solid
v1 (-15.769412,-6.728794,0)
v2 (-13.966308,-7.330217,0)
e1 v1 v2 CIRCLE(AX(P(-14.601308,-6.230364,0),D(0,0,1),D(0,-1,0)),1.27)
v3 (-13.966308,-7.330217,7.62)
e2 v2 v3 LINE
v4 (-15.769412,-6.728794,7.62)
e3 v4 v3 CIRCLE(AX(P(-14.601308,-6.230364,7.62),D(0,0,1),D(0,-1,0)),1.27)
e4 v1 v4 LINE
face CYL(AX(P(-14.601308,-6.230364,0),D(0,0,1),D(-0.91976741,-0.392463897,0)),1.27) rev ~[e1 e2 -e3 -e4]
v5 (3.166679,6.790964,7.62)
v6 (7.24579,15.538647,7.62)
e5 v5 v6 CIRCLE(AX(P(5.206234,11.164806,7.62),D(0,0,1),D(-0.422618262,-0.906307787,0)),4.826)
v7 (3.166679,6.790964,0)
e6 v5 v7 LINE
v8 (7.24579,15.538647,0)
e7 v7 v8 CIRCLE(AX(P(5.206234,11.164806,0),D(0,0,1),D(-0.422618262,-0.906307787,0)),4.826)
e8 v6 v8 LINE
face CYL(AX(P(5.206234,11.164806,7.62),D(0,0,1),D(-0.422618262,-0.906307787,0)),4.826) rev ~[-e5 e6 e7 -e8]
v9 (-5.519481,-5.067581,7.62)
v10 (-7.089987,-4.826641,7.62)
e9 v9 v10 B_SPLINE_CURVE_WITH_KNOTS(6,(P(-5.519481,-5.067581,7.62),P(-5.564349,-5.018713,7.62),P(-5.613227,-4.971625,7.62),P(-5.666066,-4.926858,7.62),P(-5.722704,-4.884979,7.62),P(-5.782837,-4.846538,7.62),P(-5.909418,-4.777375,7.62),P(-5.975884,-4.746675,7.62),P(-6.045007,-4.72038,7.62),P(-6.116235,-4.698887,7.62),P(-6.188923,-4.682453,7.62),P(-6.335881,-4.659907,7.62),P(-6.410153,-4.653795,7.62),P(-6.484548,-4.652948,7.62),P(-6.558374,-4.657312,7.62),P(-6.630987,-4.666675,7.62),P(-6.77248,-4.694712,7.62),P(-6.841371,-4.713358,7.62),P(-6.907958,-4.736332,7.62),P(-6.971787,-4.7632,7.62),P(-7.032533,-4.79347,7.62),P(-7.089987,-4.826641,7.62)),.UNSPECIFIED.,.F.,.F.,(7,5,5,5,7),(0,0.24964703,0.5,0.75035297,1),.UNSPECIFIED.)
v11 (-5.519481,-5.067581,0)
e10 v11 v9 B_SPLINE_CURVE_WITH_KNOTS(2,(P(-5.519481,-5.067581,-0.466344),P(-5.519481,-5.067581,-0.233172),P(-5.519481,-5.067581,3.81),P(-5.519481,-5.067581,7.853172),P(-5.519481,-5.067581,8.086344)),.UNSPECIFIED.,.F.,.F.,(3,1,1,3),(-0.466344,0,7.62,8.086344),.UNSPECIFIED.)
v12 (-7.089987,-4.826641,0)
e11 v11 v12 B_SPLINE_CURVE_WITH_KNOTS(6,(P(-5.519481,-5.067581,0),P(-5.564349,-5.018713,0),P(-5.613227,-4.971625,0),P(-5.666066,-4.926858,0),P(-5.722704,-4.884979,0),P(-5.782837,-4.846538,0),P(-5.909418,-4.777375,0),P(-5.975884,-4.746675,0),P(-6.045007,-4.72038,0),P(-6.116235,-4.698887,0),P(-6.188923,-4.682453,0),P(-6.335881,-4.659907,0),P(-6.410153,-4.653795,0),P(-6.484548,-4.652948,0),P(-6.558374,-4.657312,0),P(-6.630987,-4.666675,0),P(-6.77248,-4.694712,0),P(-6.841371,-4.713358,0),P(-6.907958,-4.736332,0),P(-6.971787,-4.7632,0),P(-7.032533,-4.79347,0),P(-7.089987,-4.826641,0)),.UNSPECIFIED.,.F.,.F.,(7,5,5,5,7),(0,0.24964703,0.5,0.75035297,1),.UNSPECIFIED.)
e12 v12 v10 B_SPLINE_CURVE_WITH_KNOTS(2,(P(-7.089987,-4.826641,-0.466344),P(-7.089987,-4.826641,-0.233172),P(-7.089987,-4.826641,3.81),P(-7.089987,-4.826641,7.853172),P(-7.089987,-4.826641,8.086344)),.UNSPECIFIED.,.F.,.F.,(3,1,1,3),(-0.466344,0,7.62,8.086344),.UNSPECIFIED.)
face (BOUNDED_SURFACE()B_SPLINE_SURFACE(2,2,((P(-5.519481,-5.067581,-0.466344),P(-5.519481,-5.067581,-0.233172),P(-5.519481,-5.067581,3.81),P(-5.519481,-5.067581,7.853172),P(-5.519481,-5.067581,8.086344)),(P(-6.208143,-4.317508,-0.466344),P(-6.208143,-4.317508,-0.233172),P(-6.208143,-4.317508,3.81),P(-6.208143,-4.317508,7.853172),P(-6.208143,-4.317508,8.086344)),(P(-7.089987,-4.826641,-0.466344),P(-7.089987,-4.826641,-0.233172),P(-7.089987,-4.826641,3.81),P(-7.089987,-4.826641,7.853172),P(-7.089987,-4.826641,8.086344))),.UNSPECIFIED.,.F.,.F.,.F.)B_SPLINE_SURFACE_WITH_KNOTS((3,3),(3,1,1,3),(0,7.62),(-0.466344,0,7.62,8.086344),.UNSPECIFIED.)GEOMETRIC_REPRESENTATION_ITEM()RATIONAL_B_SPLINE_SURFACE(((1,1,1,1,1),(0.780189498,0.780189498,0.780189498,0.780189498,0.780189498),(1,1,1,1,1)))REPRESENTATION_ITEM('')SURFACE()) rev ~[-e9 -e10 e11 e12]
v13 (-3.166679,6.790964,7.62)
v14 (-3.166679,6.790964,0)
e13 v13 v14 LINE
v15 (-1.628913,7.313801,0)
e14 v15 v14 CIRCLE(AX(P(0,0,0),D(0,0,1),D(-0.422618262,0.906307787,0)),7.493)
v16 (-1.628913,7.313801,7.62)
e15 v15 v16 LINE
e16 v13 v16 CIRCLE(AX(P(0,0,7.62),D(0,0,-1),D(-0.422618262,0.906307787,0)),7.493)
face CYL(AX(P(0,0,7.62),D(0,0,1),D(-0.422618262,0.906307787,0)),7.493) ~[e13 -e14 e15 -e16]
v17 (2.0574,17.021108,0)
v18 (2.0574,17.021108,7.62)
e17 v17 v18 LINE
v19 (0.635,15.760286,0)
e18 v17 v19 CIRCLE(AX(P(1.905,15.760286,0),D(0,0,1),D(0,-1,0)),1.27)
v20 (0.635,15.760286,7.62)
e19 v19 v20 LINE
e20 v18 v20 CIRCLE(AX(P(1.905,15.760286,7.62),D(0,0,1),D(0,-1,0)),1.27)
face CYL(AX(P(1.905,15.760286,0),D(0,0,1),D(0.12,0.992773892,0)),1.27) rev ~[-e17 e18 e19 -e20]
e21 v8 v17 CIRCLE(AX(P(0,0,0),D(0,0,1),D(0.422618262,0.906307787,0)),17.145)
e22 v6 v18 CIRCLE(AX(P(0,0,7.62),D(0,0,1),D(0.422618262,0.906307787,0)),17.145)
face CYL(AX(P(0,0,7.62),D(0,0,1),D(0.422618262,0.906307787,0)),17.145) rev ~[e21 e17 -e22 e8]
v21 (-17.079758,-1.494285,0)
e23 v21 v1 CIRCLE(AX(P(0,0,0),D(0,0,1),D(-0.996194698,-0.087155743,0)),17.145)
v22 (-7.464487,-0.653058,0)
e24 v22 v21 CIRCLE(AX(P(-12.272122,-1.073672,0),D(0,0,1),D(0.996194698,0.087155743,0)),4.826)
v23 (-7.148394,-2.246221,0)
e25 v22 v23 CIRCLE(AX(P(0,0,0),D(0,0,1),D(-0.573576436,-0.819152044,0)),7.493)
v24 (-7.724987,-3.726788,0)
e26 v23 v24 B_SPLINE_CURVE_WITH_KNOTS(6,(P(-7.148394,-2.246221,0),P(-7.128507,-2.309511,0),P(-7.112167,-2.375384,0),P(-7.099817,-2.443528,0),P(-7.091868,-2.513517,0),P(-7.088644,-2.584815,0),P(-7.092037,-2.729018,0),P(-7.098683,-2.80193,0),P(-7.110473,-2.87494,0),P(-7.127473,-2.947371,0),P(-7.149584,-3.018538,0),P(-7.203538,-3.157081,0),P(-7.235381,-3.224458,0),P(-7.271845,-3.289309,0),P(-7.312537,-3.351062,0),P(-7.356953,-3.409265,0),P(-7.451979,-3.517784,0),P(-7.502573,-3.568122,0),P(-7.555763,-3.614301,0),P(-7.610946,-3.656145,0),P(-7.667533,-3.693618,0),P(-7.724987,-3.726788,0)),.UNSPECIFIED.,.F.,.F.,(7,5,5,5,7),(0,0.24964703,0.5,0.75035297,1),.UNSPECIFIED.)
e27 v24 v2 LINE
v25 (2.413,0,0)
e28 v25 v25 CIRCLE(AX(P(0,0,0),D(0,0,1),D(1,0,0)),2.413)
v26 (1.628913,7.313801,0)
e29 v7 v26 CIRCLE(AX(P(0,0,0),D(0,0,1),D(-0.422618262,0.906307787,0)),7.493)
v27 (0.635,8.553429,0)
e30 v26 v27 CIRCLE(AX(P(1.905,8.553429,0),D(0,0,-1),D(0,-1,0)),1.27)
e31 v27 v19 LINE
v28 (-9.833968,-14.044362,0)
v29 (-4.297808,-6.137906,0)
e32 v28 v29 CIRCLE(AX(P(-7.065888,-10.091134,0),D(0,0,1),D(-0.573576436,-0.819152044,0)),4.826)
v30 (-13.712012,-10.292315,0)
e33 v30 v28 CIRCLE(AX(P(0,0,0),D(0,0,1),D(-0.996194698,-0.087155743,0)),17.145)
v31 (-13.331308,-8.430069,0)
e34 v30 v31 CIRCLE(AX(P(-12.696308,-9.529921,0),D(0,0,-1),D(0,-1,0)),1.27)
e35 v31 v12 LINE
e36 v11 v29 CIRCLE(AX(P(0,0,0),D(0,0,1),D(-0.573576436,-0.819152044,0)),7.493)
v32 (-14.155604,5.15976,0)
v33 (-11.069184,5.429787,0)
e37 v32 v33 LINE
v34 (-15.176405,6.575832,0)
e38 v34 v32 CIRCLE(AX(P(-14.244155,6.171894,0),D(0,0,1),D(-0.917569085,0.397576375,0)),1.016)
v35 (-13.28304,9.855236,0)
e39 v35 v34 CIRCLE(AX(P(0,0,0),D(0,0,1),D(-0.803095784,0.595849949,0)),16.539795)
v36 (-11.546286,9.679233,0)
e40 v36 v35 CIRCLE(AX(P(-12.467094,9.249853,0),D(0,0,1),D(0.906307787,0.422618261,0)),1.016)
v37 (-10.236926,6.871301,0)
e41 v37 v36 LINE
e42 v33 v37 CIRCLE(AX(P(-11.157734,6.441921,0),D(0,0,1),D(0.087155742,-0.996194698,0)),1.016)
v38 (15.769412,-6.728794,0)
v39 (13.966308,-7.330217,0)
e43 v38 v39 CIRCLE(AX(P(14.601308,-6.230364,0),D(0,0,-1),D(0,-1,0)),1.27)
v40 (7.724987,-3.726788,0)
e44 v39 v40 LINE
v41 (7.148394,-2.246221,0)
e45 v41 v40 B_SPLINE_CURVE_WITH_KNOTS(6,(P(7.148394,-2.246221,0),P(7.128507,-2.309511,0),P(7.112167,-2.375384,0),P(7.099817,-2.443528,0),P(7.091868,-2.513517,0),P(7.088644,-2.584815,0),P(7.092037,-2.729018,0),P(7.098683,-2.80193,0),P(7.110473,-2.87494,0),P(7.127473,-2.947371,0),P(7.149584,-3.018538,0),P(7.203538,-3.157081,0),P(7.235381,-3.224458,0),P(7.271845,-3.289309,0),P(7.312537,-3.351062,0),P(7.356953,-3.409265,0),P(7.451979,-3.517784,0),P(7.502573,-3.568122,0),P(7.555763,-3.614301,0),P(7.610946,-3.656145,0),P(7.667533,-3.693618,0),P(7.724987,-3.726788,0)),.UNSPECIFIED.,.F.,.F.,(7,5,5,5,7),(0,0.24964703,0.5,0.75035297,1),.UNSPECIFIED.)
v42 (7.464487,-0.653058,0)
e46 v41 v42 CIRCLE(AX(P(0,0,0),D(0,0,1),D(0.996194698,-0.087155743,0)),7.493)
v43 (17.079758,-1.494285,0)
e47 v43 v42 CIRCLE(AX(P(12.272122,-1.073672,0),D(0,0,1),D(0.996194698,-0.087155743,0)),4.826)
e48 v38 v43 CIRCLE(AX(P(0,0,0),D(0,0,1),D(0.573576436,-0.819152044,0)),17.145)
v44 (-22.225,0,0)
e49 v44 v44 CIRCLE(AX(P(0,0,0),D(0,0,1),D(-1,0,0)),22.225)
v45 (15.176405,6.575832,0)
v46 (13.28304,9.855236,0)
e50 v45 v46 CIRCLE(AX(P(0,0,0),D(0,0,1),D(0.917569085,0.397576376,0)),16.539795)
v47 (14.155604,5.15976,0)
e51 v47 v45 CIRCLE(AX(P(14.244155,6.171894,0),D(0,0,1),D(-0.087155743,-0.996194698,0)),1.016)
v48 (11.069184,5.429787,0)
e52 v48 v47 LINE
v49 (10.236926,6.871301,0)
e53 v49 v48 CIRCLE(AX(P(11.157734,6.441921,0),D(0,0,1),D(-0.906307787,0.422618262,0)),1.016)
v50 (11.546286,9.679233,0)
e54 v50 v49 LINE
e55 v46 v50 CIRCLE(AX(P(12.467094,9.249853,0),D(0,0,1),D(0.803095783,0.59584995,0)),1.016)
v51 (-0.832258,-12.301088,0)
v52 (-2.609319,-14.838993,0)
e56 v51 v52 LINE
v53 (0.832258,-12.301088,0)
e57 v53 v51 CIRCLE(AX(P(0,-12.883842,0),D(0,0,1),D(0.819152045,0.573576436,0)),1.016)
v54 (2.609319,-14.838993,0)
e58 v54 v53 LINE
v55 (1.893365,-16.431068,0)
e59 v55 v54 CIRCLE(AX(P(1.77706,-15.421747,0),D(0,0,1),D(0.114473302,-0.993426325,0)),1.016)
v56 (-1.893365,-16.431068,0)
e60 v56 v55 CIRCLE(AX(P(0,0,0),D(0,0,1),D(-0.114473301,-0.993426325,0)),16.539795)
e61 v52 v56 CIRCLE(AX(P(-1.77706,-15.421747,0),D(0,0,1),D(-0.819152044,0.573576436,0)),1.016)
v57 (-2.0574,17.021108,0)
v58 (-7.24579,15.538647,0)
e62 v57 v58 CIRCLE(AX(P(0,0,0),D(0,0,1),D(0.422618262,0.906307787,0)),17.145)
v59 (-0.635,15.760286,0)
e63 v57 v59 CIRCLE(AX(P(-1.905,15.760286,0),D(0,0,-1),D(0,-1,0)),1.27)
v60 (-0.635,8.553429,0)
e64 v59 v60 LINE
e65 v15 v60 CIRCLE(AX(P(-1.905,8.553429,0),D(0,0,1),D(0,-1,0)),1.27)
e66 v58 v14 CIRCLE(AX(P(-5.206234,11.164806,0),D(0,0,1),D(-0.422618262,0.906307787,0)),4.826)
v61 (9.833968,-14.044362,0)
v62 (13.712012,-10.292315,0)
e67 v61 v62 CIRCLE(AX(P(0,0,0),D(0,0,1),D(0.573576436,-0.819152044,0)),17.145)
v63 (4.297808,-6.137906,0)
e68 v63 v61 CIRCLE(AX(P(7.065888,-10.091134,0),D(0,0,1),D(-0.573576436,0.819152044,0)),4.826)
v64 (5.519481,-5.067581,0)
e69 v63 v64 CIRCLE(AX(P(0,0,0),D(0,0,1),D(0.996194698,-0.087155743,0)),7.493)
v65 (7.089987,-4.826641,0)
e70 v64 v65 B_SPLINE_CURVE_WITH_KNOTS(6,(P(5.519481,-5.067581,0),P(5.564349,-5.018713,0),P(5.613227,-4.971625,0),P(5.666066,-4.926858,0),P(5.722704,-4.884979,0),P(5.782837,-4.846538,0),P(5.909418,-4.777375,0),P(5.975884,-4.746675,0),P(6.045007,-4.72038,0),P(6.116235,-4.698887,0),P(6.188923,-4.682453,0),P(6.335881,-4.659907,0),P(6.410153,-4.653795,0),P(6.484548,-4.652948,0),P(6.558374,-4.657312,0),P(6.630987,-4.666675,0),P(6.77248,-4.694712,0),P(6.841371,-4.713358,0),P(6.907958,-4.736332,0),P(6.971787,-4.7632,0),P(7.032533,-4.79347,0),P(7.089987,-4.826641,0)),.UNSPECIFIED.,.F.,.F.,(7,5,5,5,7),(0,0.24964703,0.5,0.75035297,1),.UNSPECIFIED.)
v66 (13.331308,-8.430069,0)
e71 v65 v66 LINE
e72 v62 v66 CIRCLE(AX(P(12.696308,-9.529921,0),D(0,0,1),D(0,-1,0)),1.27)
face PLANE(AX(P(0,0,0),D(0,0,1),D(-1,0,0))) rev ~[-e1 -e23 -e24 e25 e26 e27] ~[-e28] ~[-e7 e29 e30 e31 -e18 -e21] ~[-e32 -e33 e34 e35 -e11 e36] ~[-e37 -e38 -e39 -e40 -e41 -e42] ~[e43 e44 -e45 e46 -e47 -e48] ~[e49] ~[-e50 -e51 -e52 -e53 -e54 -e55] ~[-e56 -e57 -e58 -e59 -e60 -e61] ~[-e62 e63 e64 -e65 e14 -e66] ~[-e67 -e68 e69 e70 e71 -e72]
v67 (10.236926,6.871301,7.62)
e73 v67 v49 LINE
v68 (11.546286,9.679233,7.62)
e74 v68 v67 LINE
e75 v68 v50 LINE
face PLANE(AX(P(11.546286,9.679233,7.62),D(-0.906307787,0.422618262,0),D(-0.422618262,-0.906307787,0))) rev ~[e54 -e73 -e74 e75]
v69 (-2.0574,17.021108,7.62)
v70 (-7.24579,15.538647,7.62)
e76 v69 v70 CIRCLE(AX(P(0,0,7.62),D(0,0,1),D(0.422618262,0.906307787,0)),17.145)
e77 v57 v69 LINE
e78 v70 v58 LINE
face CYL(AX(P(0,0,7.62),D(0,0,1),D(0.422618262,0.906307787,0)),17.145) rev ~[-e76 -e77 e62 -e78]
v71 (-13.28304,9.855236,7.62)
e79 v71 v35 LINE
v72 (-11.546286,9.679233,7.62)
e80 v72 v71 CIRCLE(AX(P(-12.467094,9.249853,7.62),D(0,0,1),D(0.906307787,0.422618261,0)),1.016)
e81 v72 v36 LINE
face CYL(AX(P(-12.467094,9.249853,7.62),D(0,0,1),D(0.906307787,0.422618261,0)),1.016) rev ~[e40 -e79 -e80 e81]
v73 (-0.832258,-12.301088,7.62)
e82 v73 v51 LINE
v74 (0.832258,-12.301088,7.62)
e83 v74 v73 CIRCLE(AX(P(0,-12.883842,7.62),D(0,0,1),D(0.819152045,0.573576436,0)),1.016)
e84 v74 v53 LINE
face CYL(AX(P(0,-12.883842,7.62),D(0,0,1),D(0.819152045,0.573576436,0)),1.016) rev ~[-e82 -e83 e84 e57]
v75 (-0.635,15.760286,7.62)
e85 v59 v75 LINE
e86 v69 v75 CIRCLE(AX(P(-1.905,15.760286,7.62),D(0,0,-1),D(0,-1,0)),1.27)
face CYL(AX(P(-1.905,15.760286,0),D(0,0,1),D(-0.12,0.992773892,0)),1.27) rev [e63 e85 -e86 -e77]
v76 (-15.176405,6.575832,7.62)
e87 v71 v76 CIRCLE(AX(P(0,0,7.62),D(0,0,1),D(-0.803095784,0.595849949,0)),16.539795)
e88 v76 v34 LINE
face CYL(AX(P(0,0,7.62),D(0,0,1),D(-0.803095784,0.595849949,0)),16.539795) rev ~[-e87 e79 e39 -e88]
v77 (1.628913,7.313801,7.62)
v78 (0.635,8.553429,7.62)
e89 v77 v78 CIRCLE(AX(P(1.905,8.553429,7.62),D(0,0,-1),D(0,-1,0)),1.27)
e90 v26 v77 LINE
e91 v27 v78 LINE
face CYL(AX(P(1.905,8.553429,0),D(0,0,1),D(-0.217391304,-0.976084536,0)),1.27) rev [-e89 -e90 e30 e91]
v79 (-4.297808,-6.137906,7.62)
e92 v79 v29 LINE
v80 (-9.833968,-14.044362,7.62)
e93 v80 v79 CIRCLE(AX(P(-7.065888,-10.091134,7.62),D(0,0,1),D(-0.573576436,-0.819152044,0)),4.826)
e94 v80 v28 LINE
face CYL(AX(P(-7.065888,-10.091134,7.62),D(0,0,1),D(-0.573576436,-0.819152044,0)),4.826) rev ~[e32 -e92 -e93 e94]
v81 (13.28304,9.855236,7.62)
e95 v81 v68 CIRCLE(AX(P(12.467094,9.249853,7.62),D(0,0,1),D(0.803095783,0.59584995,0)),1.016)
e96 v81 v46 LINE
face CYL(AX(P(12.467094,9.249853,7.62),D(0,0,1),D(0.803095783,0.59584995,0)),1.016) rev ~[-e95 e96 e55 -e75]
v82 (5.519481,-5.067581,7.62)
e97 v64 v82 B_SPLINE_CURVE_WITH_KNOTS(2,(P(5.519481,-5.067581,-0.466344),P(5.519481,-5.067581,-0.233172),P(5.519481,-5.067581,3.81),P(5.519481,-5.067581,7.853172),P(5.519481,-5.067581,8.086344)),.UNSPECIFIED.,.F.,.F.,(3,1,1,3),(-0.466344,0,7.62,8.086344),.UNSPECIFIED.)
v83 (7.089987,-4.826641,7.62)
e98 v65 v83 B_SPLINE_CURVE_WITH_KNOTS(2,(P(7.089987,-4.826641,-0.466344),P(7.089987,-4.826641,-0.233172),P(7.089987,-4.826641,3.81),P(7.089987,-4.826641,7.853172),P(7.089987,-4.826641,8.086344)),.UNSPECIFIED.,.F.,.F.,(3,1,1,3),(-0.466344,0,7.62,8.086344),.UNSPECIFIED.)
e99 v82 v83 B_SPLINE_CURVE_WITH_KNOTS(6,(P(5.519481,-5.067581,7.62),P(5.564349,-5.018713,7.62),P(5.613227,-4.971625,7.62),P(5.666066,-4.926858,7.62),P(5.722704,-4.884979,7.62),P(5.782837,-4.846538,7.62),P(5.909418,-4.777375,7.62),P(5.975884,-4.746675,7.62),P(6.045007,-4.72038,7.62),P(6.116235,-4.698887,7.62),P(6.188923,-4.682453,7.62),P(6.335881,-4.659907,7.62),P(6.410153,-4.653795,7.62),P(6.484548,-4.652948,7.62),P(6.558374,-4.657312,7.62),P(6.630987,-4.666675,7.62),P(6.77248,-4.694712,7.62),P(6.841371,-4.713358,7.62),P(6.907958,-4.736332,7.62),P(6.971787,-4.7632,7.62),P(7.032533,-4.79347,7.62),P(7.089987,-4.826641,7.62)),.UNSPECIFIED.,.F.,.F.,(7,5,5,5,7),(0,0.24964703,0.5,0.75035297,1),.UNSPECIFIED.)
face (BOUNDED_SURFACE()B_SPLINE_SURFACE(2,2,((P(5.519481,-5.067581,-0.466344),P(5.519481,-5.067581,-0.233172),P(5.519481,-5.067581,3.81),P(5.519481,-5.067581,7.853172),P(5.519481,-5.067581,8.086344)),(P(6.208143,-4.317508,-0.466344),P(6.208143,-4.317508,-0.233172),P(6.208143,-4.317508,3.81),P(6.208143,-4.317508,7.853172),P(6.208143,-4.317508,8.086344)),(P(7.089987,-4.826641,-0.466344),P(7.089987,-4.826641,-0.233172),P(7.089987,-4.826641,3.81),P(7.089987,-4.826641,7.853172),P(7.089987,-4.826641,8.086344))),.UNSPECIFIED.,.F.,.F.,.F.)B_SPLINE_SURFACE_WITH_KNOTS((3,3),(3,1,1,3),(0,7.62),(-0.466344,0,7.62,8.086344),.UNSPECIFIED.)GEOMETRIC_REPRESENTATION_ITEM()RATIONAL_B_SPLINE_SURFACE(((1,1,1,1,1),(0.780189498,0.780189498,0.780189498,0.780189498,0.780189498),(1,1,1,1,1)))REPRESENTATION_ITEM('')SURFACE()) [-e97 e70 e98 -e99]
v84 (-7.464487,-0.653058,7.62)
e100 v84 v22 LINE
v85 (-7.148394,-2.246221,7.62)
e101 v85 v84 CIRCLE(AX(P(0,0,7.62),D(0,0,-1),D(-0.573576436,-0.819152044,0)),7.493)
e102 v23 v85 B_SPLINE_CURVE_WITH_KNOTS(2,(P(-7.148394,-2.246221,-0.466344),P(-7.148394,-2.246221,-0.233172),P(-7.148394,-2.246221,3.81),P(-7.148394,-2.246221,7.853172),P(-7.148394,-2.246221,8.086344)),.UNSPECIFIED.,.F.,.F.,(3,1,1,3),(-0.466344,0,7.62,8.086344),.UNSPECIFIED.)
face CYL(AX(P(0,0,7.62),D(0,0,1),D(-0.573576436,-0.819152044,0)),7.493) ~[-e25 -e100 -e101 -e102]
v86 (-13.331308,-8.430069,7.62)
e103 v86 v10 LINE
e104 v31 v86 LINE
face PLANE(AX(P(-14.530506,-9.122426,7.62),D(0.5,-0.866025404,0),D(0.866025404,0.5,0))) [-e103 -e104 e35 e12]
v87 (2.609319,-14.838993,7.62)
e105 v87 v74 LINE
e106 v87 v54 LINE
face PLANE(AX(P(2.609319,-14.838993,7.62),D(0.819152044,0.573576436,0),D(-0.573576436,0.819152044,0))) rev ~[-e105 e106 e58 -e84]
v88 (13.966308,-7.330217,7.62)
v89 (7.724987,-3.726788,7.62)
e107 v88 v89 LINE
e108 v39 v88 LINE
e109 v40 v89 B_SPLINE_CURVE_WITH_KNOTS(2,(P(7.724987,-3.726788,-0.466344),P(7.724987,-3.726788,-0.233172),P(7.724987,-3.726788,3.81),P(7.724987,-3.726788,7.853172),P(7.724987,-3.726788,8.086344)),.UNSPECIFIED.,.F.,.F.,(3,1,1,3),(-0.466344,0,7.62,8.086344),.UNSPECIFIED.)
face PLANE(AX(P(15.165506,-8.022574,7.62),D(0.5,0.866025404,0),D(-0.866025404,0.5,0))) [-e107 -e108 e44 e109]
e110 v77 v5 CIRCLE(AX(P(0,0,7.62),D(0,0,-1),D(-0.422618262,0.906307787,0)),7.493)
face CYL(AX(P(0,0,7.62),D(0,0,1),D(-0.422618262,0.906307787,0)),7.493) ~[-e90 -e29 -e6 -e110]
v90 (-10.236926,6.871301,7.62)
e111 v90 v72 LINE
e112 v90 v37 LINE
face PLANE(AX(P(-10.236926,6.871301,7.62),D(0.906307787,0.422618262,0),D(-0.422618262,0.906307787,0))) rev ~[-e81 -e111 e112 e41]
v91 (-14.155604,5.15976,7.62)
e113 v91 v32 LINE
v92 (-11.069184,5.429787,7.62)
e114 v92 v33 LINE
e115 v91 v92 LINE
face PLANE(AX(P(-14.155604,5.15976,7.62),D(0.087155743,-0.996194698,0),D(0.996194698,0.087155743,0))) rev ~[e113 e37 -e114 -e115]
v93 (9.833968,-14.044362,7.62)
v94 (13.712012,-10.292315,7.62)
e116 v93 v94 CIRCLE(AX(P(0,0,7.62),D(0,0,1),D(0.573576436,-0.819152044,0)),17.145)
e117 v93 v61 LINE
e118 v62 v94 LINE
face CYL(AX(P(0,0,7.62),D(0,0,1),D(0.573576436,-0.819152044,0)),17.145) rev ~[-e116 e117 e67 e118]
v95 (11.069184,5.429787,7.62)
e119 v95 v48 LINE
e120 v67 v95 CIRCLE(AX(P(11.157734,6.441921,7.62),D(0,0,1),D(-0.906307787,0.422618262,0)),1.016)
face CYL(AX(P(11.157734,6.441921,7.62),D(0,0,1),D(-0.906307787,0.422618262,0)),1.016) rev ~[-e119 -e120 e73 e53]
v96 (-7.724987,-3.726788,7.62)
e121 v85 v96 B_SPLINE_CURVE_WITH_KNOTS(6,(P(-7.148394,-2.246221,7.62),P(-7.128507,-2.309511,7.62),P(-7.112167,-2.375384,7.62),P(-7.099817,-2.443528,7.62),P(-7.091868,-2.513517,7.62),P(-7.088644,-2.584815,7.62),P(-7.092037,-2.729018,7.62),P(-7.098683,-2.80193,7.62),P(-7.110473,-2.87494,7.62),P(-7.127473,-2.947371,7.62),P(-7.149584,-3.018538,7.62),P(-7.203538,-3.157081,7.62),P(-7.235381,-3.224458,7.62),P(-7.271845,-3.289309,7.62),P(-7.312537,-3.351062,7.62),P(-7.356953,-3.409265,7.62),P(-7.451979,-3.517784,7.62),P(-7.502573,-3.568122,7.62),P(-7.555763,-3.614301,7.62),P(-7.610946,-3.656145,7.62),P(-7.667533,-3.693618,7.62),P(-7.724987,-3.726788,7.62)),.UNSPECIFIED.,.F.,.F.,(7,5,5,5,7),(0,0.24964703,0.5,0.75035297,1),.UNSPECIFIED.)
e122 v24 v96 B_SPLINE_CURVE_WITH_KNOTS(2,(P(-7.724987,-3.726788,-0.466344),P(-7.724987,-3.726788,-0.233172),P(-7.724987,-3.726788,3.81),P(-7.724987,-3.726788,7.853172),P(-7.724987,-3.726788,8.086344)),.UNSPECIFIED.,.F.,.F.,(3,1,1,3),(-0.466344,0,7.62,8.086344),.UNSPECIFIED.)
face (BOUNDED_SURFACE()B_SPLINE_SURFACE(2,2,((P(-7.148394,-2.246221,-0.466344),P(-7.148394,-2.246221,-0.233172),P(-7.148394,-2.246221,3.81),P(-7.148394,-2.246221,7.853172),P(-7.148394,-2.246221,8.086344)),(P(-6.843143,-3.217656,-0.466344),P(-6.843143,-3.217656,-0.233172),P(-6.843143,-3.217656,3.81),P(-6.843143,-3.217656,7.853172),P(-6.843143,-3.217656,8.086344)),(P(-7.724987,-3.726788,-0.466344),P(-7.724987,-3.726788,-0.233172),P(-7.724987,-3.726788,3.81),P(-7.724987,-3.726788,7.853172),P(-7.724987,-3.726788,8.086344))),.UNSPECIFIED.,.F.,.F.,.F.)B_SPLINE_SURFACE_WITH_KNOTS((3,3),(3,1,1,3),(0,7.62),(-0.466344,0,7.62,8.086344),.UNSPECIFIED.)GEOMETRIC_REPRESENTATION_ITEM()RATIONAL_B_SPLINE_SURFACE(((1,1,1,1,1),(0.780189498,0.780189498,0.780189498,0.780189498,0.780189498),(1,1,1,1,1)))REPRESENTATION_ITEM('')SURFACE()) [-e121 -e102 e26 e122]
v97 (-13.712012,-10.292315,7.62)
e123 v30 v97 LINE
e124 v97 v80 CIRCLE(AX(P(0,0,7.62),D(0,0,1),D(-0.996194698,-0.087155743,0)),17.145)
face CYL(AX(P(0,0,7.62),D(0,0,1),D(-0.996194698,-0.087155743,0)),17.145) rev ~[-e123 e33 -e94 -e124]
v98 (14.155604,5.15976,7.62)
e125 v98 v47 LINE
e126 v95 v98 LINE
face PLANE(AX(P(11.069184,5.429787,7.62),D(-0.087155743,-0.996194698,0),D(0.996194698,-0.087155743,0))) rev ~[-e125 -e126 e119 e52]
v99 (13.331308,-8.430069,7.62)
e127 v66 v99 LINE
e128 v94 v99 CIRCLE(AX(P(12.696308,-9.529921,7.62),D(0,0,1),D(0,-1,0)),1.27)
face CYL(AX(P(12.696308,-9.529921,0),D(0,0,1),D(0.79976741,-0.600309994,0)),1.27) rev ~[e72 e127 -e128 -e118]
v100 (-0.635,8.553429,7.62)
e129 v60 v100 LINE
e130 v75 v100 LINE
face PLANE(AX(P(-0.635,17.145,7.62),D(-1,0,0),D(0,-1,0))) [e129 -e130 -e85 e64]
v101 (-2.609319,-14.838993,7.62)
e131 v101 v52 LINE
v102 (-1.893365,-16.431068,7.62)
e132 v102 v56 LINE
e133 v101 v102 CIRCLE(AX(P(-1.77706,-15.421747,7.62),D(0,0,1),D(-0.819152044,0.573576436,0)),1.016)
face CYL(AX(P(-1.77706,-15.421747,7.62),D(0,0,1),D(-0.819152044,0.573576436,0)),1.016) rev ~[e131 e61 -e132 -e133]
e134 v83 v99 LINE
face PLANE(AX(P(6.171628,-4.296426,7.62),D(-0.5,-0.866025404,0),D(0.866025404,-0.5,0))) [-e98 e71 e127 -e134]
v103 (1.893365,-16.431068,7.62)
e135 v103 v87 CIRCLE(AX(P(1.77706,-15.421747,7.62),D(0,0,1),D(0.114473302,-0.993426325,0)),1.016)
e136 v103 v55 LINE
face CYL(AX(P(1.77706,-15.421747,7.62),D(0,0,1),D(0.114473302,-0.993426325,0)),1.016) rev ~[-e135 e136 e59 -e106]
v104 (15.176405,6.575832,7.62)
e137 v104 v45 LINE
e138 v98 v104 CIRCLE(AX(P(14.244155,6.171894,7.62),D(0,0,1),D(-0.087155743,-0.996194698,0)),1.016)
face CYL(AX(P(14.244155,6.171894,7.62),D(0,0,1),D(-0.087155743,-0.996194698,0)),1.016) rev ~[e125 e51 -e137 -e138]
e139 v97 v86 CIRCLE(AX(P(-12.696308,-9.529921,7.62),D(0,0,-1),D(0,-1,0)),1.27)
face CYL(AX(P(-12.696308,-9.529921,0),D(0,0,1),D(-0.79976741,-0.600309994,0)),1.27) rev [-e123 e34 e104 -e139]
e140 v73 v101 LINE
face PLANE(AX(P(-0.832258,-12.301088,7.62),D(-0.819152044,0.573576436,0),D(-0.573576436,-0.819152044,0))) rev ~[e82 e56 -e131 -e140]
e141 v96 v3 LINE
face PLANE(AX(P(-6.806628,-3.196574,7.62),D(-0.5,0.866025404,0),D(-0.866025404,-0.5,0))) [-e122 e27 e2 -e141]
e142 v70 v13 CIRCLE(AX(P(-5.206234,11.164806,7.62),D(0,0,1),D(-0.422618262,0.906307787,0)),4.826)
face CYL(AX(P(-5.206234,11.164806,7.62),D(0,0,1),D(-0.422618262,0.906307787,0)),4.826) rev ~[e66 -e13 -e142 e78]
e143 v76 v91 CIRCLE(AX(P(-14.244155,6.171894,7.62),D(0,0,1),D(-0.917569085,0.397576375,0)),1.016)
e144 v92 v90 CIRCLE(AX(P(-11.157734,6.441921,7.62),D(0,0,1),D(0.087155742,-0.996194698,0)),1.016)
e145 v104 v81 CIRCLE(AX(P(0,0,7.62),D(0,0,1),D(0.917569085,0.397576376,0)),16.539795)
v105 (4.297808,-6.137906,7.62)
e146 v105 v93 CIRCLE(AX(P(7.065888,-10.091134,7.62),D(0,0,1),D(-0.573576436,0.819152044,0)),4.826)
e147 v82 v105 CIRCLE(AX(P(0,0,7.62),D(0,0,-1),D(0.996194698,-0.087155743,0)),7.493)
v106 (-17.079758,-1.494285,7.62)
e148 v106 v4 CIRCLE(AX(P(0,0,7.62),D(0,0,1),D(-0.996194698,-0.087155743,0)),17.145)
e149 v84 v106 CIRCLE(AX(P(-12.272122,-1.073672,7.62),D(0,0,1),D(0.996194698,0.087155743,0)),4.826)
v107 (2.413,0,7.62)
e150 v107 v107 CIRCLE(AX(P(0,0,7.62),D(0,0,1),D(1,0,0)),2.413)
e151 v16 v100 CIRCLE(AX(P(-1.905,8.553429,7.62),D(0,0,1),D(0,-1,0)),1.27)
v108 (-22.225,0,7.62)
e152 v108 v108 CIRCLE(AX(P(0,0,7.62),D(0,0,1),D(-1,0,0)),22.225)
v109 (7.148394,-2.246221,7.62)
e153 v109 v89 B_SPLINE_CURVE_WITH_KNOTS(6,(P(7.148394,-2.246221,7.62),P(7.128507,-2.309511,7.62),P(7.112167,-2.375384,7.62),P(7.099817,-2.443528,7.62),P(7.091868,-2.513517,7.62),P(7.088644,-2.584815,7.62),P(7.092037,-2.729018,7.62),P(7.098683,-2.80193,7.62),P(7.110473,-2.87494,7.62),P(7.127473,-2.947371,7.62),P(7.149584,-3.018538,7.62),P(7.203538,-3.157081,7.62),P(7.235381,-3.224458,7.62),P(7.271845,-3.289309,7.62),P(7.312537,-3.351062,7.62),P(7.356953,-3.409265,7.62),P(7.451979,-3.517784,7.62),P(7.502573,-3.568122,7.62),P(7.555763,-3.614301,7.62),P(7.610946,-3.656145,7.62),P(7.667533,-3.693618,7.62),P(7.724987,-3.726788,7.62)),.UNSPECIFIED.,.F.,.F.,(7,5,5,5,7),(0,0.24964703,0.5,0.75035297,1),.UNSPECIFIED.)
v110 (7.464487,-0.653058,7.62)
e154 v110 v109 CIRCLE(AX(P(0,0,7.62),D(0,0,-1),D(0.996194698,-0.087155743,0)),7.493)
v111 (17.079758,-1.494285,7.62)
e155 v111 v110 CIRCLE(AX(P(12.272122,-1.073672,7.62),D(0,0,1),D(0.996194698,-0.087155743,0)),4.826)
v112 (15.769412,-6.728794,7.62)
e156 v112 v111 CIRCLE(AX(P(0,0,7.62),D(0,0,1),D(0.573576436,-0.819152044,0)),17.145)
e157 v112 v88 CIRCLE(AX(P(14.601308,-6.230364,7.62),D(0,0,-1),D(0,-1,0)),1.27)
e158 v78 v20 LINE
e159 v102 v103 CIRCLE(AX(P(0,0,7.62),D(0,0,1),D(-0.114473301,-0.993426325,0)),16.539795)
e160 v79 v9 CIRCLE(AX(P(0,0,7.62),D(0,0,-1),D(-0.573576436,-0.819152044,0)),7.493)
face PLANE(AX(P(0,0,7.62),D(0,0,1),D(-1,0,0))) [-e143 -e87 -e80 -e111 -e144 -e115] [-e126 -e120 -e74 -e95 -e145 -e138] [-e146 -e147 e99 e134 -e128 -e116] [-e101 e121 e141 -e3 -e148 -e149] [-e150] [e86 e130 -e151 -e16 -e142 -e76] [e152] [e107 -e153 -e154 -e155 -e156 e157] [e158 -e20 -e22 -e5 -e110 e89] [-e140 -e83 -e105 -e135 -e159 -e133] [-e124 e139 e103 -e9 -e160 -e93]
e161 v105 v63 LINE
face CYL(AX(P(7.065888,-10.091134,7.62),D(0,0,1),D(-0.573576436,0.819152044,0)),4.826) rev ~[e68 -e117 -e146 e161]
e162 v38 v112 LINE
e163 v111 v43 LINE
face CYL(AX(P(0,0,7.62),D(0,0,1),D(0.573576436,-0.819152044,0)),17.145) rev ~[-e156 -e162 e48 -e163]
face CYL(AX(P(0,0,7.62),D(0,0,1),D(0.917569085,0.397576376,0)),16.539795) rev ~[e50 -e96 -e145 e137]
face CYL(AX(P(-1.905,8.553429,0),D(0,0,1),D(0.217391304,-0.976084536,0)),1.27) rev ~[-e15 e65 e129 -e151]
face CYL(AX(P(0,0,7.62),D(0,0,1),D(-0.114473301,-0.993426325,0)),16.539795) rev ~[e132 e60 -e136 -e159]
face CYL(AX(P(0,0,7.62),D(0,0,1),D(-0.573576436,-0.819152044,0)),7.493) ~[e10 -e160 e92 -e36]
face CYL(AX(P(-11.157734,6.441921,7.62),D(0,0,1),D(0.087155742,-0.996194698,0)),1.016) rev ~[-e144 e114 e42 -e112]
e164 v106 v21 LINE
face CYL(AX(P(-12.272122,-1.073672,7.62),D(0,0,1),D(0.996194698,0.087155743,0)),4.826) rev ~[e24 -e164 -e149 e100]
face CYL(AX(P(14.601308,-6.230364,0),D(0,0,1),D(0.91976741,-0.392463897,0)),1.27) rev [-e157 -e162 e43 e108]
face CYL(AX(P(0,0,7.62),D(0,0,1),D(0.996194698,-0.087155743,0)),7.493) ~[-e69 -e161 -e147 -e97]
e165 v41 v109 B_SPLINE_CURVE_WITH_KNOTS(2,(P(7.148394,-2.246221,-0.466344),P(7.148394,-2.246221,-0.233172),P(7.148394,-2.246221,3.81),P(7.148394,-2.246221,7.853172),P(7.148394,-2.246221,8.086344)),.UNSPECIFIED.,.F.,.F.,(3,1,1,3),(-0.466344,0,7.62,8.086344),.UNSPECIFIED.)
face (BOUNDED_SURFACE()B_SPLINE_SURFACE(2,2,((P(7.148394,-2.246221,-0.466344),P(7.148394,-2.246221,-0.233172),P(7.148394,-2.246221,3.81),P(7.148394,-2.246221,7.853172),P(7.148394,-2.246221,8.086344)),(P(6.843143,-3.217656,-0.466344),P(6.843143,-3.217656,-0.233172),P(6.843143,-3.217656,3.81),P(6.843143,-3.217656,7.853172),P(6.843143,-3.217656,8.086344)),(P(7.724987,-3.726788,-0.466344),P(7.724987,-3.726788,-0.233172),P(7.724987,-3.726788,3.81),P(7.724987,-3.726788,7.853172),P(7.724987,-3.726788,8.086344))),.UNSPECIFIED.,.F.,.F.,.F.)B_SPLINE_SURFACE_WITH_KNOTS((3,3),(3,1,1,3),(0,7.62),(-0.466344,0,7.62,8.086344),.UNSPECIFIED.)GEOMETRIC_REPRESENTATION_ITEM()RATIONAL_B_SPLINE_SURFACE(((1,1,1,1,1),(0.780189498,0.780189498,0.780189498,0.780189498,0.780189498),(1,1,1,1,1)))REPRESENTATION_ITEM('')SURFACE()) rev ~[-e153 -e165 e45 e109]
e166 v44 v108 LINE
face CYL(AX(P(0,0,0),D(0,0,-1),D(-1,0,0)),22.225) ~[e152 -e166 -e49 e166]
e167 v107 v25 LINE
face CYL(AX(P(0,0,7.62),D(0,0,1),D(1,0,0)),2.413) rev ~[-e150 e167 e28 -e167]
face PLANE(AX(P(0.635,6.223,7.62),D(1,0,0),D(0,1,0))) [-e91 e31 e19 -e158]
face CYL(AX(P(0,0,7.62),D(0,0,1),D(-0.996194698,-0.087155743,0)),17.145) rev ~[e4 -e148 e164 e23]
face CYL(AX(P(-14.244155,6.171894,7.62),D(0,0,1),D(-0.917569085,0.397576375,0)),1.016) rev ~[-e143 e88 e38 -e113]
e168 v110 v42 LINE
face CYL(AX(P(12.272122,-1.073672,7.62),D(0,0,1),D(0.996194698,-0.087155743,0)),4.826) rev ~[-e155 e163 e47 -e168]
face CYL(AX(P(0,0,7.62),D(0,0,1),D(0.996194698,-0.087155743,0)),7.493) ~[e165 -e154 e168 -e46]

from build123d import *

# Parameters (mm, degrees)
SKETCH1_R           = 22.225
BOSS_EXTRUDE1_DEPTH = 7.62
SKETCH2_R           = 2.413
CUT_EXTRUDE1_DEPTH  = 33.341392209
EXTRUDE_THIN1_DEPTH = 7.62
FILLET1_R           = 1.27


with BuildPart() as part:
    # Sketch1 → Boss-Extrude1 (new body)
    with BuildSketch(Plane.XY):
        with Locations(Location((0, 0, 0), (0, 0, 180))):
            Circle(SKETCH1_R)
    extrude(amount=BOSS_EXTRUDE1_DEPTH)

    # Sketch2 → Cut-Extrude1 (cut, through all)
    with BuildSketch(Plane.XY.offset(7.62)):
        Circle(SKETCH2_R)
        with BuildLine():
            Line((11.546285712, 9.679232711), (10.236925711, 6.871301126))
            ThreePointArc((10.236925711, 6.871301126), (10.277852612, 5.933920972), (11.069184188, 5.429787159))
            Line((11.069184188, 5.429787159), (14.155604273, 5.159760391))
            ThreePointArc((14.155604273, 5.159760391), (15.068334078, 5.577769607), (15.176404699, 6.575831801))
            ThreePointArc((15.176404699, 6.575831801), (14.323882769, 8.269897573), (13.28303974, 9.855236107))
            ThreePointArc((13.28303974, 9.855236107), (12.364657215, 10.260675301), (11.546285712, 9.679232711))
        make_face()
        with BuildLine():
            Line((2.609318561, -14.838993102), (0.832258477, -12.301088285))
            ThreePointArc((0.832258477, -12.301088285), (0, -11.867841944), (-0.832258477, -12.301088285))
            Line((-0.832258477, -12.301088285), (-2.609318561, -14.838993102))
            ThreePointArc((-2.609318561, -14.838993102), (-2.703676863, -15.838444908), (-1.893364959, -16.431067908))
            ThreePointArc((-1.893364959, -16.431067908), (0, -16.539795145), (1.893364959, -16.431067908))
            ThreePointArc((1.893364959, -16.431067908), (2.703676863, -15.838444908), (2.609318561, -14.838993102))
        make_face()
        with BuildLine():
            Line((-14.155604273, 5.159760391), (-11.069184188, 5.429787159))
            ThreePointArc((-11.069184188, 5.429787159), (-10.277852612, 5.933920972), (-10.236925711, 6.871301126))
            Line((-10.236925711, 6.871301126), (-11.546285712, 9.679232711))
            ThreePointArc((-11.546285712, 9.679232711), (-12.364657215, 10.260675301), (-13.28303974, 9.855236107))
            ThreePointArc((-13.28303974, 9.855236107), (-14.323882769, 8.269897573), (-15.176404699, 6.575831801))
            ThreePointArc((-15.176404699, 6.575831801), (-15.068334078, 5.577769607), (-14.155604273, 5.159760391))
        make_face()
        with BuildLine():
            ThreePointArc((7.245790098, 15.538647009), (0, 17.145), (-7.245790098, 15.538647009))
            ThreePointArc((-7.245790098, 15.538647009), (-9.580075747, 9.125249897), (-3.166678635, 6.790964248))
            ThreePointArc((-3.166678635, 6.790964248), (0, 7.493), (3.166678635, 6.790964248))
            ThreePointArc((3.166678635, 6.790964248), (9.580075747, 9.125249897), (7.245790098, 15.538647009))
        make_face()
        with BuildLine():
            ThreePointArc((9.833968001, -14.044361799), (14.848005548, -8.5725), (17.079758099, -1.494285209))
            ThreePointArc((17.079758099, -1.494285209), (12.6927361, 3.733964018), (7.464486873, -0.65305798))
            ThreePointArc((7.464486873, -0.65305798), (6.489128351, -3.7465), (4.297808238, -6.137906268))
            ThreePointArc((4.297808238, -6.137906268), (3.112660354, -12.859213915), (9.833968001, -14.044361799))
        make_face()
        with BuildLine():
            ThreePointArc((-17.079758099, -1.494285209), (-14.848005548, -8.5725), (-9.833968001, -14.044361799))
            ThreePointArc((-9.833968001, -14.044361799), (-3.112660354, -12.859213915), (-4.297808238, -6.137906268))
            ThreePointArc((-4.297808238, -6.137906268), (-6.489128351, -3.7465), (-7.464486873, -0.65305798))
            ThreePointArc((-7.464486873, -0.65305798), (-12.6927361, 3.733964018), (-17.079758099, -1.494285209))
        make_face()
    extrude(amount=-CUT_EXTRUDE1_DEPTH, mode=Mode.SUBTRACT)

    # Sketch3 → Extrude-Thin1 (add)
    with BuildSketch(Plane.XY.offset(7.62)):
        Polygon((0.635, 6.223), (0.635, 7.493), (0.635, 17.145), (-0.635, 17.145), (-0.635, 7.493), (-0.635, 6.223), align=None)
        Polygon((5.071776088, -3.661426131), (6.171628351, -4.296426131), (14.530505548, -9.122426131), (15.165505548, -8.022573869), (6.806628351, -3.196573869), (5.706776088, -2.561573869), align=None)
        Polygon((-5.706776088, -2.561573869), (-6.806628351, -3.196573869), (-15.165505548, -8.022573869), (-14.530505548, -9.122426131), (-6.171628351, -4.296426131), (-5.071776088, -3.661426131), align=None)
    extrude(amount=-EXTRUDE_THIN1_DEPTH)

    # Fillet1
    fillet1_edges = [part.edges().sort_by_distance(p)[0] for p in [
        (-0.635, 17.133236705, 3.81),
        (0.635, 17.133236705, 3.81),
        (0.635, 7.466044736, 3.81),
        (-0.635, 7.466044736, 3.81),
        (15.155318236, -8.016692221, 3.81),
        (14.520318236, -9.116544484, 3.81),
        (6.148284407, -4.282948499, 3.81),
        (6.783284407, -3.183096237, 3.81),
        (-14.520318236, -9.116544484, 3.81),
        (-15.155318236, -8.016692221, 3.81),
        (-6.783284407, -3.183096237, 3.81),
        (-6.148284407, -4.282948499, 3.81),
    ]]
    fillet(fillet1_edges, radius=FILLET1_R)


solid = part.part
